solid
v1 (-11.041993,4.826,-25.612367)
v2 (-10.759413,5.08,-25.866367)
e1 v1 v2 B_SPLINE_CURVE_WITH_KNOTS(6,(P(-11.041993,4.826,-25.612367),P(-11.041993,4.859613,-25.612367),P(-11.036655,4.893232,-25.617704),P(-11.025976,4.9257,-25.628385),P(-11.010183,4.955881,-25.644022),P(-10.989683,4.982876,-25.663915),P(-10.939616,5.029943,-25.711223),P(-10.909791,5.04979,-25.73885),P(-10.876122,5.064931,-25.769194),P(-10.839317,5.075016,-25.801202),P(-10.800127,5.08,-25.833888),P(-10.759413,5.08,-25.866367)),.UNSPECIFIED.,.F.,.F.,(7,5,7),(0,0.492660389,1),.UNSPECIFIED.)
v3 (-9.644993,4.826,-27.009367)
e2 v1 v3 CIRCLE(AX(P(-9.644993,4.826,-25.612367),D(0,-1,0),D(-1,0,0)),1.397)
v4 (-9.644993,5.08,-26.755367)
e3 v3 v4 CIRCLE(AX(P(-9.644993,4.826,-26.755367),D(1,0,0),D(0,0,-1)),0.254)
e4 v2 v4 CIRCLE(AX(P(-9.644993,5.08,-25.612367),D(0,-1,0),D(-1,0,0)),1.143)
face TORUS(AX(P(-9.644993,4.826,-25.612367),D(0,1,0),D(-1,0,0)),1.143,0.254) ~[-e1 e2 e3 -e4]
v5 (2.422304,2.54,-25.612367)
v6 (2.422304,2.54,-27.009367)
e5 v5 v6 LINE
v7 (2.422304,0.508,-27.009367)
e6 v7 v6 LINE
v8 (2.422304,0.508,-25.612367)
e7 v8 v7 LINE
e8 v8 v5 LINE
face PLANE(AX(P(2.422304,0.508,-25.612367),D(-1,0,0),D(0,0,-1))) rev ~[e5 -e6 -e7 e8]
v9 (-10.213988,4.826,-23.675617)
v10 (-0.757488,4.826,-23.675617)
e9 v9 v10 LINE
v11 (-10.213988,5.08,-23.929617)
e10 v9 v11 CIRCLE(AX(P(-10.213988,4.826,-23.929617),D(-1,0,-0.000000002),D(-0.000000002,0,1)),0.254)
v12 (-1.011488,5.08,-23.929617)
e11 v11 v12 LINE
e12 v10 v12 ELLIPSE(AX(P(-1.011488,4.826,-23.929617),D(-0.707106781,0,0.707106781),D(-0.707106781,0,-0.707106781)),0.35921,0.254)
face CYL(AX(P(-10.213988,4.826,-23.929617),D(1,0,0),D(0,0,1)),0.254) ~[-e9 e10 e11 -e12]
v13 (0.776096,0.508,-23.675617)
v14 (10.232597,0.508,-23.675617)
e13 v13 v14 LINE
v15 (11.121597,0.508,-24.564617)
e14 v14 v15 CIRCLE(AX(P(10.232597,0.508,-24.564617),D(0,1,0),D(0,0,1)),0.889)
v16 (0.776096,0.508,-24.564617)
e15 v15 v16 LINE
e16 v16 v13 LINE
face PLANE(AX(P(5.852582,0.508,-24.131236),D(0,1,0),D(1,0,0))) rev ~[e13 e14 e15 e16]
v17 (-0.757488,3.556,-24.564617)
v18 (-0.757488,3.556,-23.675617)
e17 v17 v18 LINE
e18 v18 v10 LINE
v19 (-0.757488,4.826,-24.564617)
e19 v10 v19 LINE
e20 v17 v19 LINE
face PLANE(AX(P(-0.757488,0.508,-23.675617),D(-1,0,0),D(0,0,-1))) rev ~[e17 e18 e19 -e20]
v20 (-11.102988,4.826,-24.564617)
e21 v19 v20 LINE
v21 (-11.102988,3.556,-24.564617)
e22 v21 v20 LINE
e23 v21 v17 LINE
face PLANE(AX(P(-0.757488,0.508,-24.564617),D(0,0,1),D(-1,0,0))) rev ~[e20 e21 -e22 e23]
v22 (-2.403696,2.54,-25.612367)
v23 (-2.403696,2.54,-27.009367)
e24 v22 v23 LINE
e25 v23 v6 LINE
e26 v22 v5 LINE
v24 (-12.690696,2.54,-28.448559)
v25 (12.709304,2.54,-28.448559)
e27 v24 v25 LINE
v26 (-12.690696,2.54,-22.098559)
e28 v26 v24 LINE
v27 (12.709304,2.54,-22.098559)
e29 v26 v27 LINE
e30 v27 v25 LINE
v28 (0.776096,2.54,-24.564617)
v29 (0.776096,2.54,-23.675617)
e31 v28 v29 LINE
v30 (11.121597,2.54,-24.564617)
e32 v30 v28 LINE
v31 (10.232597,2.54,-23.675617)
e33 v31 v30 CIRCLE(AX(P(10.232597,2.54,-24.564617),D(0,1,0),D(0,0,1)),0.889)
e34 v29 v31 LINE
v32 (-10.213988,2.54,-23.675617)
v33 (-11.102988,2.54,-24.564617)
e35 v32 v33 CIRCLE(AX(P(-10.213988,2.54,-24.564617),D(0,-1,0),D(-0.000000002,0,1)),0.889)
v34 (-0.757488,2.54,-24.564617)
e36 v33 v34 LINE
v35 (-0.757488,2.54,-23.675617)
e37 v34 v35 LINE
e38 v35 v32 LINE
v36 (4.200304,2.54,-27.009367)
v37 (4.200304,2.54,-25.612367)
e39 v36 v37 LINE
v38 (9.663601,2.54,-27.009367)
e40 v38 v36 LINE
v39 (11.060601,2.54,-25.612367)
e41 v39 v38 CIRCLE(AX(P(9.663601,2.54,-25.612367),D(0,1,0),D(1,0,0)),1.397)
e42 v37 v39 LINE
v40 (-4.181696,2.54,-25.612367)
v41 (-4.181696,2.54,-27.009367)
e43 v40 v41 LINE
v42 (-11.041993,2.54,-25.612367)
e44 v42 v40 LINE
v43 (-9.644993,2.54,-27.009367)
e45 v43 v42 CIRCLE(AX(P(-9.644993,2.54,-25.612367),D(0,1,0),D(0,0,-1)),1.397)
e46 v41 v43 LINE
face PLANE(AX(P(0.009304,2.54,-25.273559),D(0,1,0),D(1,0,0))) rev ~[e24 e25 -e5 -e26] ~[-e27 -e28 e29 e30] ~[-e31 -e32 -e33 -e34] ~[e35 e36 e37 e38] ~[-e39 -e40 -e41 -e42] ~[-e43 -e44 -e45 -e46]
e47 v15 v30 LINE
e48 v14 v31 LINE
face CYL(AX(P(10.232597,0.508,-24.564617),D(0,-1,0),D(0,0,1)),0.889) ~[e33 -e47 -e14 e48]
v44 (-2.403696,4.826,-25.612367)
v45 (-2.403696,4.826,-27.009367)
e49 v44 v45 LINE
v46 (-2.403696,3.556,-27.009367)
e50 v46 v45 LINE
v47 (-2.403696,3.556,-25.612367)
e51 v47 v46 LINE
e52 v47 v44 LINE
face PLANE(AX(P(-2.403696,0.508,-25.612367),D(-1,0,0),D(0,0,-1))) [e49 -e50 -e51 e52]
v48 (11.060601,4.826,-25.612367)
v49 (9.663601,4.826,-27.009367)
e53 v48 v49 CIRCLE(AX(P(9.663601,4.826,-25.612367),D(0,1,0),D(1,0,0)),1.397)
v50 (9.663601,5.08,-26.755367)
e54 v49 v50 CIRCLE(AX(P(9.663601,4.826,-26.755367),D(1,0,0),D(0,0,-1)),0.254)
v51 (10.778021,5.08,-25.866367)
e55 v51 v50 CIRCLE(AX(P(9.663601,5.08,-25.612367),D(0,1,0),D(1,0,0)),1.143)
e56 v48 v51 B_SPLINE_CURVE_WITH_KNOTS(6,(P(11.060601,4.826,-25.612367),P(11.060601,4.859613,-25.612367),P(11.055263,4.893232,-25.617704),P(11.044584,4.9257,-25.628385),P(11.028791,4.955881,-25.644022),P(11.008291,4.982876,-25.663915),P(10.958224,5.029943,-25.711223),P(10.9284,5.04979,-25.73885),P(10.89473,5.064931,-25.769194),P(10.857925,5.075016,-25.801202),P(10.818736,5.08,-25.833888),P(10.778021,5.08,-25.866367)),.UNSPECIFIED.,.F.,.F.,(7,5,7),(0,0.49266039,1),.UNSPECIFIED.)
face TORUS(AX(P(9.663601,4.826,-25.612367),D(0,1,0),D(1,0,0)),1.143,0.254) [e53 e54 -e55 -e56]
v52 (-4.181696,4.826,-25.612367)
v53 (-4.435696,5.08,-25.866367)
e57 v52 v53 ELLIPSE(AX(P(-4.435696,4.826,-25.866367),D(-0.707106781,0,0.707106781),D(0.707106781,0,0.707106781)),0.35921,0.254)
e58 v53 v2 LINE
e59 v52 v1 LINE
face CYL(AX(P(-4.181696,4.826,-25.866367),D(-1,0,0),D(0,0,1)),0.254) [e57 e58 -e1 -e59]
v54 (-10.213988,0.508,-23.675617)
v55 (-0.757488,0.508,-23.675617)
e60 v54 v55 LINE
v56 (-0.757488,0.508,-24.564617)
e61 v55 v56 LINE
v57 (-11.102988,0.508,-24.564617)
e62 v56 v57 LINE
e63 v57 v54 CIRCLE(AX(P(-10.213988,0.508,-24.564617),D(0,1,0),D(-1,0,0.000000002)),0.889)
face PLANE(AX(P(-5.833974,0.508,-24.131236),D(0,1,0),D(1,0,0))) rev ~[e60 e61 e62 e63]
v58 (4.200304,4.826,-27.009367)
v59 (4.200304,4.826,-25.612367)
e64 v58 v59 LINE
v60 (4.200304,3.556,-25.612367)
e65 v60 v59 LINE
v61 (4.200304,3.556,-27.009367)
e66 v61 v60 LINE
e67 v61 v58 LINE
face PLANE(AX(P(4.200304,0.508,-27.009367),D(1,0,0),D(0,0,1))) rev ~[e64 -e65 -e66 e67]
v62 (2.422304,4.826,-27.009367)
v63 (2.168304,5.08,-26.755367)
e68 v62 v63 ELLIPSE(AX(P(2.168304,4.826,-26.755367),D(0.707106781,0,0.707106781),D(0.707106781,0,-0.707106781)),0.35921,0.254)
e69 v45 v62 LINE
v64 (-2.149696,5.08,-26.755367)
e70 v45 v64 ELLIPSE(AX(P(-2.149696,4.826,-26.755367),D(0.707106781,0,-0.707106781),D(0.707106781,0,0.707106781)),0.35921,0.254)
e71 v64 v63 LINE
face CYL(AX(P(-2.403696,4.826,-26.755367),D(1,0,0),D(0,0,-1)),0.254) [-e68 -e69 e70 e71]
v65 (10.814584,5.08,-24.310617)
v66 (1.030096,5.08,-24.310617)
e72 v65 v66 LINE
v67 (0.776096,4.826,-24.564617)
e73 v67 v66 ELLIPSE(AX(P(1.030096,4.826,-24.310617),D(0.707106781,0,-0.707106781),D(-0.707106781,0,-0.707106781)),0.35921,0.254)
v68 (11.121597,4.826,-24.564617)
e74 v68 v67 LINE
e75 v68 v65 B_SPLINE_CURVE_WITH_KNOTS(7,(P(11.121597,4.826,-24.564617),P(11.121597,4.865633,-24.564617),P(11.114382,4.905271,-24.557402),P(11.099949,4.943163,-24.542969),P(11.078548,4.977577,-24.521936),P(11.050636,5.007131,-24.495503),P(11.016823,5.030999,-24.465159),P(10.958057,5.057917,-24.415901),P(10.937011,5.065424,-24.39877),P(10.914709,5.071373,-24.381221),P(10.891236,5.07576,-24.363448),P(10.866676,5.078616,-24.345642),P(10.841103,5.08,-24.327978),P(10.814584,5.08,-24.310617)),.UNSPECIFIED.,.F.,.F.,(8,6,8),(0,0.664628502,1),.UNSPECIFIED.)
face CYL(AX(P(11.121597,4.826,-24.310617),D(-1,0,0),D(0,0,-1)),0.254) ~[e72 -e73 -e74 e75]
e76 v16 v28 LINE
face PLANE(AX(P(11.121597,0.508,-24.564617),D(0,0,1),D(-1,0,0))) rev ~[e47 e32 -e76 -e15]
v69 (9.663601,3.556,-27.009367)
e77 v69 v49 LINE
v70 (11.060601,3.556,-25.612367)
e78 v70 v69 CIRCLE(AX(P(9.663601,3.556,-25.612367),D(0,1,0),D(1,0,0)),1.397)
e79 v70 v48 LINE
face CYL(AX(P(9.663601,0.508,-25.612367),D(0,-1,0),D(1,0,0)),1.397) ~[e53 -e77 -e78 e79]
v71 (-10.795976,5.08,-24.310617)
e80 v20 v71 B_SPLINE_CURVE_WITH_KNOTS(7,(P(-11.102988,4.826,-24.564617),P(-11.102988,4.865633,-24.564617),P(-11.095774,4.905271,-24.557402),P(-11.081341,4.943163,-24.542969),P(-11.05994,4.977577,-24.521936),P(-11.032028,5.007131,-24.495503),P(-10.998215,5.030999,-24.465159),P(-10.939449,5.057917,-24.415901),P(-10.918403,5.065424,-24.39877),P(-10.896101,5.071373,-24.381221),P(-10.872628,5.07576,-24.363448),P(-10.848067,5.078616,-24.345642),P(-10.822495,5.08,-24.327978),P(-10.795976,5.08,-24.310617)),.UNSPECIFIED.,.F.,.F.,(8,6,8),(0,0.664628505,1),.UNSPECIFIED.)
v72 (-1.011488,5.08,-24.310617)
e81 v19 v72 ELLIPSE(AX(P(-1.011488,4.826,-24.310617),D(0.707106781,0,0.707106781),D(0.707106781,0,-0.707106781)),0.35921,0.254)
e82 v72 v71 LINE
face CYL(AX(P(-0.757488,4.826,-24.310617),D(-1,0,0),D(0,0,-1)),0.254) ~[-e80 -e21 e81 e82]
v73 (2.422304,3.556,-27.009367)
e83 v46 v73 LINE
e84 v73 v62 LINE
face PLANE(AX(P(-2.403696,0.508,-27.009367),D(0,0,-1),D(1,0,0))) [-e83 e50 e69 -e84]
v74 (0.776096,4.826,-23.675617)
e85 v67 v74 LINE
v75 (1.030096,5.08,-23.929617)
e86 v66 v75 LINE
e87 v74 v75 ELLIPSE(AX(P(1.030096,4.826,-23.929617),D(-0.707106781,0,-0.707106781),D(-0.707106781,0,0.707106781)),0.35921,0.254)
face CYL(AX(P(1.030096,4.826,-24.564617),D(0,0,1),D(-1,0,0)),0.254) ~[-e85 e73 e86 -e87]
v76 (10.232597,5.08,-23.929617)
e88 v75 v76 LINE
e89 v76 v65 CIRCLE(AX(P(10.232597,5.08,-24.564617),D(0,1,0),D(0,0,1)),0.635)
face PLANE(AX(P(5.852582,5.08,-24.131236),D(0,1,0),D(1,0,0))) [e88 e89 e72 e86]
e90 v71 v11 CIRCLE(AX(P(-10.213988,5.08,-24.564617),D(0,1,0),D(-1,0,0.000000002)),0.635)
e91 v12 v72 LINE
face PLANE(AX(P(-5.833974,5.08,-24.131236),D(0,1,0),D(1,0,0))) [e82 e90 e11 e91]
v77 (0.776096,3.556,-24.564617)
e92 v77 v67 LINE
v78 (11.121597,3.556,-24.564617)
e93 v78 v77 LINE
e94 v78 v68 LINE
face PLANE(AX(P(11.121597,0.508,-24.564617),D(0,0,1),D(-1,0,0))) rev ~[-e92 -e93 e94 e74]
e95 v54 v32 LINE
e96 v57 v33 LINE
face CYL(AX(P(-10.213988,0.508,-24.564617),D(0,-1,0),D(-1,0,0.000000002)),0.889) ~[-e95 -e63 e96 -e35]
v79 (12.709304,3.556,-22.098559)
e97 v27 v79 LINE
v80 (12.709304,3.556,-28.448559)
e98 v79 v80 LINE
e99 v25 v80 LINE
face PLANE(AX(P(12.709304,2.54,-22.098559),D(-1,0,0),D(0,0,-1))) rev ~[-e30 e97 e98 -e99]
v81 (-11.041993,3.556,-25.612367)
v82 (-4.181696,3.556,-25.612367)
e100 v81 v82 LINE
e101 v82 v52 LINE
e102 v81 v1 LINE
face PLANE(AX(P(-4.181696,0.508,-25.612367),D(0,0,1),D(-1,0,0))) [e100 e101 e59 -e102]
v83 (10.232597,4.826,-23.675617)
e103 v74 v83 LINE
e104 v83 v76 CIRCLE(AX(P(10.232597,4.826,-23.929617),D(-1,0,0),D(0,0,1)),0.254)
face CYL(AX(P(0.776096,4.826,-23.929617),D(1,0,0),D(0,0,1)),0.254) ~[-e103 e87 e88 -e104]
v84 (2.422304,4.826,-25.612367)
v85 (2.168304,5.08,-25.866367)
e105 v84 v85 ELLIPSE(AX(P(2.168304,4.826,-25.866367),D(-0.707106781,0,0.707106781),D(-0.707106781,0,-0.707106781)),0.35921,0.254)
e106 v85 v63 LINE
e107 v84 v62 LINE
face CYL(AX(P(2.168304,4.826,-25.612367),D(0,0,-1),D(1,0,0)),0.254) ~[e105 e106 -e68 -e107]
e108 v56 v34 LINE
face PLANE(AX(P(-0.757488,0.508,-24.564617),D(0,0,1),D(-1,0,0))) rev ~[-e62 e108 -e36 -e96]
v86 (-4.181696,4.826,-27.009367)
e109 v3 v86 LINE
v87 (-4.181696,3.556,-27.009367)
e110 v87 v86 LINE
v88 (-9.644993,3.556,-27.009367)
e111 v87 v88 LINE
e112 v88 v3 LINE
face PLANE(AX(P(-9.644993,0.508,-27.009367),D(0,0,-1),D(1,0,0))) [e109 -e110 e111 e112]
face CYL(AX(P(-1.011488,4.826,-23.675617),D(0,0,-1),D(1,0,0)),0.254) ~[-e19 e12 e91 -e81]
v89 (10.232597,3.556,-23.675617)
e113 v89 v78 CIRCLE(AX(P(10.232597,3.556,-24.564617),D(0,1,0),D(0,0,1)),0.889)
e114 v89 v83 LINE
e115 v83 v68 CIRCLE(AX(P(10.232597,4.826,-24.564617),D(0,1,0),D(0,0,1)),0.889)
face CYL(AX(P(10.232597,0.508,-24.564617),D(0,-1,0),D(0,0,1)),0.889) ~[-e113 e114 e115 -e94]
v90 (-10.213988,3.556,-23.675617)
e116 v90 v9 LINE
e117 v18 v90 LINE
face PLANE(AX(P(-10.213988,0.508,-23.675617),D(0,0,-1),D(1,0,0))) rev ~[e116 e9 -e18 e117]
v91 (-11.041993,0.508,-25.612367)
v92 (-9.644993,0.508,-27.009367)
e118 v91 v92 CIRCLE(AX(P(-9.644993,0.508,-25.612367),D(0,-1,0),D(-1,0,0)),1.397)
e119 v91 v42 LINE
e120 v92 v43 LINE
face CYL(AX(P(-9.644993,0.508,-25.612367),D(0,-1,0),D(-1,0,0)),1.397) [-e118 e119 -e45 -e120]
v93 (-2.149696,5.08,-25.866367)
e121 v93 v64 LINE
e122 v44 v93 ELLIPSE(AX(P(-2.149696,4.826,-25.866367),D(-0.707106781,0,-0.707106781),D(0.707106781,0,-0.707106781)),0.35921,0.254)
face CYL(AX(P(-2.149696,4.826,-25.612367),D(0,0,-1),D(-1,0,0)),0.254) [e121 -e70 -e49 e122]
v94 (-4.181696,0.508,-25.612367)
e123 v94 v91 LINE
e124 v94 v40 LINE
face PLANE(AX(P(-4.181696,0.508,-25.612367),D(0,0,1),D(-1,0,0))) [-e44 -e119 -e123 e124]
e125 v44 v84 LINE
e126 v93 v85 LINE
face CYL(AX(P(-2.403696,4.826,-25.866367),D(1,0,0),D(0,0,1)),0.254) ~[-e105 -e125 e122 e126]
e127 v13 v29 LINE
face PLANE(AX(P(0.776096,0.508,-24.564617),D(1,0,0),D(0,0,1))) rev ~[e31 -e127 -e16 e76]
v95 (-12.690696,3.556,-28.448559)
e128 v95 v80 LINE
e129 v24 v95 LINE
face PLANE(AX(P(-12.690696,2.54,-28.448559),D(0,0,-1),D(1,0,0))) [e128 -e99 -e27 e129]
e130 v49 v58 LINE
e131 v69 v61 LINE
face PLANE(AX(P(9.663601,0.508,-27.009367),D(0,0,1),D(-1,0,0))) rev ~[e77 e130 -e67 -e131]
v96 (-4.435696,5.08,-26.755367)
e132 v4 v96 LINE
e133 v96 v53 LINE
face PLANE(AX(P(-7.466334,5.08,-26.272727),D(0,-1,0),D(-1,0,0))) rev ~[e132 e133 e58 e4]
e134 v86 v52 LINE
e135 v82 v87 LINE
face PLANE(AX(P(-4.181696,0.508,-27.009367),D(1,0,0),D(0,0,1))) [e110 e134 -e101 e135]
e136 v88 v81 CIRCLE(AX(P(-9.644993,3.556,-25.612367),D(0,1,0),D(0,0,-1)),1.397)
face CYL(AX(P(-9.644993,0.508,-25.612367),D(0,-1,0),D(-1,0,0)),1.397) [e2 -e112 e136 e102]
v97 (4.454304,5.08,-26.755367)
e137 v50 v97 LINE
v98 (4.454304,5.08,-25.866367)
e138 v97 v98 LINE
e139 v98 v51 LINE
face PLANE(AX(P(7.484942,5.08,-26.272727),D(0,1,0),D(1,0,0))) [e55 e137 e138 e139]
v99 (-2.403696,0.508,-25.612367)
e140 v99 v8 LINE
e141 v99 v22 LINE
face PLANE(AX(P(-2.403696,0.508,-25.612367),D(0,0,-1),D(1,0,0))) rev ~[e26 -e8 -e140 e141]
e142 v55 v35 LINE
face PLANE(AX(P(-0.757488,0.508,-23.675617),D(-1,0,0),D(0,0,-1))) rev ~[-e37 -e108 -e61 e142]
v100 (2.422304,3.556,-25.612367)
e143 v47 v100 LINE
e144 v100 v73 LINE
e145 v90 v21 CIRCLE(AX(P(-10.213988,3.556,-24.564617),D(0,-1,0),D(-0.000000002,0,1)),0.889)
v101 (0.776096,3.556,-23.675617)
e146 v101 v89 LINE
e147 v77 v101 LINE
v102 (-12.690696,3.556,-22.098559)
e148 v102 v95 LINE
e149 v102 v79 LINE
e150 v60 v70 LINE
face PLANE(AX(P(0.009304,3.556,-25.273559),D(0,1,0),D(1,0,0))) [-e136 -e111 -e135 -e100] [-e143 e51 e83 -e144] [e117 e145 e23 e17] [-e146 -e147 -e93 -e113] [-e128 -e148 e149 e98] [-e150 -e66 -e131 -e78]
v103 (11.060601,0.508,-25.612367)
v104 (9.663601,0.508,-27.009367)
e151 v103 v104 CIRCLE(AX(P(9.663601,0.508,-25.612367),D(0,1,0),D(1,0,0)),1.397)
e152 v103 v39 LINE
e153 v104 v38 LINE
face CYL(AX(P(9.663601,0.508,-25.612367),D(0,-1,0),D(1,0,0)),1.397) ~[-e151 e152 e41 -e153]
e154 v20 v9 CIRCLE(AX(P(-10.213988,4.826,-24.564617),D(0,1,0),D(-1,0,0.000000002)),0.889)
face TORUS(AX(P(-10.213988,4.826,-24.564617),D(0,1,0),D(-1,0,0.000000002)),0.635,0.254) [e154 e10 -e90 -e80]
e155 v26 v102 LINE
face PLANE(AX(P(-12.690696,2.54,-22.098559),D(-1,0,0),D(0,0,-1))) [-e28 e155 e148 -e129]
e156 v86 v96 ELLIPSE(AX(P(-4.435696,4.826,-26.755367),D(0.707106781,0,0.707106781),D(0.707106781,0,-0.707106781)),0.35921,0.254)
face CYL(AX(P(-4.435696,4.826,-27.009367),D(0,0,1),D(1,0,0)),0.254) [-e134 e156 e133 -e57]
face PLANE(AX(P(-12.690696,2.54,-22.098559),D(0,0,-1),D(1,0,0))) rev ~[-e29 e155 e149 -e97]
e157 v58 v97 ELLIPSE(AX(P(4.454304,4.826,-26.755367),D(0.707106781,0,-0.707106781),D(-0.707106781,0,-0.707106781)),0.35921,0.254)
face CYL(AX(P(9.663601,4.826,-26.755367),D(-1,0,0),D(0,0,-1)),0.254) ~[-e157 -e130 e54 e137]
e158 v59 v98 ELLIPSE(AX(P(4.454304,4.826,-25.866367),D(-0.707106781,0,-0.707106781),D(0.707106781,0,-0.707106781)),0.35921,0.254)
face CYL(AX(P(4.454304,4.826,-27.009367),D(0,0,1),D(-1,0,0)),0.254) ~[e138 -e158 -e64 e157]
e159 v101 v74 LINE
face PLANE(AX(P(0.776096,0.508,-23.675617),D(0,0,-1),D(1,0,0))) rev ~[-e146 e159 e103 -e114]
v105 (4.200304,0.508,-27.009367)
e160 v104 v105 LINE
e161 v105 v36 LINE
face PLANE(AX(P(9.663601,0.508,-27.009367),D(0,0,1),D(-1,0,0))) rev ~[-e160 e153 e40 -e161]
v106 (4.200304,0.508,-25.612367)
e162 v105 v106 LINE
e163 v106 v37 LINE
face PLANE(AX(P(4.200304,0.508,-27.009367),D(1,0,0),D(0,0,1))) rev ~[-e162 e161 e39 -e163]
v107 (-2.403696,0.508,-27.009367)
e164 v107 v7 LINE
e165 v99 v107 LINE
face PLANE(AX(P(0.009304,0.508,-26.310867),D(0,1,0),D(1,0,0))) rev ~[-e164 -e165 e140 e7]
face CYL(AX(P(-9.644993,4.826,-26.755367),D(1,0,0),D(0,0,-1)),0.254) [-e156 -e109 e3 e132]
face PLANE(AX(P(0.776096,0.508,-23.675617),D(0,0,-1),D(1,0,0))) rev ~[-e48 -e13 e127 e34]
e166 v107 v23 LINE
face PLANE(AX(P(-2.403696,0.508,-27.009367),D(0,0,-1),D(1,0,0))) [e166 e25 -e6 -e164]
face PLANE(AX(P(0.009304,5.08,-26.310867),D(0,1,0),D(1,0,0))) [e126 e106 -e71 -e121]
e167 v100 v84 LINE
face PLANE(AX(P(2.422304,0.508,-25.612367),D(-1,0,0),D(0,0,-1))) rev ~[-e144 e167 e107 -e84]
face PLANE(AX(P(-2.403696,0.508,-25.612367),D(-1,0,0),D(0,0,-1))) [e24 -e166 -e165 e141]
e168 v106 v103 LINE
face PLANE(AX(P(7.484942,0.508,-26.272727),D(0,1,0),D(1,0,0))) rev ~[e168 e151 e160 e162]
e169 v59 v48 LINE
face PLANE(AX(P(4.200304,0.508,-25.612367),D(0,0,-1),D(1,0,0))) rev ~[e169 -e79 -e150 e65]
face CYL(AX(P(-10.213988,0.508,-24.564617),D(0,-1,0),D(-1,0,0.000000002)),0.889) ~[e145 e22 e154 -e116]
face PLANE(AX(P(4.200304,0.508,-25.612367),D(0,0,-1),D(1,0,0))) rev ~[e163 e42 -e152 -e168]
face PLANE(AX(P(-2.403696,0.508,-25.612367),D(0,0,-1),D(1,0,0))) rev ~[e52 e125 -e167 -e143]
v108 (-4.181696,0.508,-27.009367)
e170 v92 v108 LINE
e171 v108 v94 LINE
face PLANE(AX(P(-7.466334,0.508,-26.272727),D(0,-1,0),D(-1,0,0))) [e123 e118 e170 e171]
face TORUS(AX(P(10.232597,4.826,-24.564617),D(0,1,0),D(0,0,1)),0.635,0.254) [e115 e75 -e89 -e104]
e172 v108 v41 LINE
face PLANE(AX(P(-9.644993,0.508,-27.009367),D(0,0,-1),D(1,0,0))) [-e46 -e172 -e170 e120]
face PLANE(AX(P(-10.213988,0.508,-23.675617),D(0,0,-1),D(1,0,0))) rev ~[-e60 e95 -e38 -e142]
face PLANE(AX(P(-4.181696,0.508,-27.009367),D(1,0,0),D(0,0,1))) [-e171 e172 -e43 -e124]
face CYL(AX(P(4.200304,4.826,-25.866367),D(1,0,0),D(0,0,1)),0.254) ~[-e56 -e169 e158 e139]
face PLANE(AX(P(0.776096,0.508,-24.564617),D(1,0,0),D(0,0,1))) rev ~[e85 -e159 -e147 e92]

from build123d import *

# Parameters (mm, degrees)
BOSS_EXTRUDE1_DEPTH        = 2.032
BOSS_EXTRUDE1_DEPTH_BACK   = 2.54
BOSS_EXTRUDE1_2_DEPTH      = 2.032
BOSS_EXTRUDE1_2_DEPTH_BACK = 2.54
BOSS_EXTRUDE1_3_DEPTH      = 2.032
BOSS_EXTRUDE1_3_DEPTH_BACK = 2.54
SKETCH1_W                  = 4.826
SKETCH1_H                  = 1.397
BOSS_EXTRUDE1_4_DEPTH      = 2.032
BOSS_EXTRUDE1_4_DEPTH_BACK = 2.54
BOSS_EXTRUDE1_5_DEPTH      = 2.032
BOSS_EXTRUDE1_5_DEPTH_BACK = 2.54
BOSS_EXTRUDE2_DEPTH        = 0.508
BOSS_EXTRUDE2_DEPTH_BACK   = 0.508
SKETCH1_3_W                = 25.4
SKETCH1_3_H                = 6.35
SKETCH1_3_W_2              = 4.826
SKETCH1_3_H_2              = 1.397
FILLET1_R                  = 0.254


with BuildPart() as part:
    # Sketch1 → Boss-Extrude1 (new, two sides: drawn at the far end of the back side and taken through both)
    with BuildSketch(Plane(origin=(0, 3.048, 0), x_dir=(1, 0, 0), z_dir=(0, 1, 0)).offset(-BOSS_EXTRUDE1_DEPTH_BACK)):
        with BuildLine():
            Line((-4.181695904, 27.009366894), (-9.644992793, 27.009366894))
            ThreePointArc((-9.644992793, 27.009366894), (-10.632820966, 26.600195068), (-11.041992793, 25.612366894))
            Line((-11.041992793, 25.612366894), (-4.181695904, 25.612366894))
            Line((-4.181695904, 25.612366894), (-4.181695904, 27.009366894))
        make_face()
    extrude(amount=BOSS_EXTRUDE1_DEPTH + BOSS_EXTRUDE1_DEPTH_BACK)



with BuildPart() as body_2:
    # Sketch1 → Boss-Extrude1 2 (new, two sides: drawn at the far end of the back side and taken through both)
    with BuildSketch(Plane(origin=(0, 3.048, 0), x_dir=(1, 0, 0), z_dir=(0, 1, 0)).offset(-BOSS_EXTRUDE1_2_DEPTH_BACK)):
        with BuildLine():
            Line((0.776095842, 24.564616894), (0.776095842, 23.675616894))
            Line((0.776095842, 23.675616894), (10.23259664, 23.675616894))
            ThreePointArc((10.23259664, 23.675616894), (10.861214569, 23.935998966), (11.12159664, 24.564616894))
            Line((11.12159664, 24.564616894), (0.776095842, 24.564616894))
        make_face()
    extrude(amount=BOSS_EXTRUDE1_2_DEPTH + BOSS_EXTRUDE1_2_DEPTH_BACK)


with BuildPart() as body_3:
    # Sketch1 → Boss-Extrude1 3 (new, two sides: drawn at the far end of the back side and taken through both)
    with BuildSketch(Plane(origin=(0, 3.048, 0), x_dir=(1, 0, 0), z_dir=(0, 1, 0)).offset(-BOSS_EXTRUDE1_3_DEPTH_BACK)):
        with Locations((0.009304096, 26.310866894)):
            Rectangle(SKETCH1_W, SKETCH1_H)
    extrude(amount=BOSS_EXTRUDE1_3_DEPTH + BOSS_EXTRUDE1_3_DEPTH_BACK)


with BuildPart() as body_4:
    # Sketch1 → Boss-Extrude1 4 (new, two sides: drawn at the far end of the back side and taken through both)
    with BuildSketch(Plane(origin=(0, 3.048, 0), x_dir=(1, 0, 0), z_dir=(0, 1, 0)).offset(-BOSS_EXTRUDE1_4_DEPTH_BACK)):
        with BuildLine():
            Line((9.663600985, 27.009366894), (4.200304096, 27.009366894))
            Line((4.200304096, 27.009366894), (4.200304096, 25.612366894))
            Line((4.200304096, 25.612366894), (11.060600985, 25.612366894))
            ThreePointArc((11.060600985, 25.612366894), (10.651429158, 26.600195068), (9.663600985, 27.009366894))
        make_face()
    extrude(amount=BOSS_EXTRUDE1_4_DEPTH + BOSS_EXTRUDE1_4_DEPTH_BACK)


with BuildPart() as body_5:
    # Sketch1 → Boss-Extrude1 5 (new, two sides: drawn at the far end of the back side and taken through both)
    with BuildSketch(Plane(origin=(0, 3.048, 0), x_dir=(1, 0, 0), z_dir=(0, 1, 0)).offset(-BOSS_EXTRUDE1_5_DEPTH_BACK)):
        with BuildLine():
            Line((-0.75748765, 23.675616894), (-0.75748765, 24.564616894))
            Line((-0.75748765, 24.564616894), (-11.102988449, 24.564616894))
            ThreePointArc((-11.102988449, 24.564616894), (-10.842606377, 23.935998966), (-10.213988449, 23.675616894))
            Line((-10.213988449, 23.675616894), (-0.75748765, 23.675616894))
        make_face()
    extrude(amount=BOSS_EXTRUDE1_5_DEPTH + BOSS_EXTRUDE1_5_DEPTH_BACK)


with BuildPart() as part_1:
    add(part.part)

    add(body_2.part)  # Boss-Extrude2 merges body 2

    add(body_3.part)  # Boss-Extrude2 merges body 3

    add(body_4.part)  # Boss-Extrude2 merges body 4

    add(body_5.part)  # Boss-Extrude2 merges body 5
    # Sketch1<3> → Boss-Extrude2 (add, two sides: drawn at the far end of the back side and taken through both)
    with BuildSketch(Plane(origin=(0, 3.048, 0), x_dir=(1, 0, 0), z_dir=(0, 1, 0)).offset(-BOSS_EXTRUDE2_DEPTH_BACK)):
        with Locations((0.009304096, 25.273558827)):
            Rectangle(SKETCH1_3_W, SKETCH1_3_H)
        with BuildLine():
            Line((-11.102988449, 24.564616894), (-0.75748765, 24.564616894))
            Line((-0.75748765, 24.564616894), (-0.75748765, 23.675616894))
            Line((-0.75748765, 23.675616894), (-10.213988449, 23.675616894))
            ThreePointArc((-10.213988449, 23.675616894), (-10.842606377, 23.935998966), (-11.102988449, 24.564616894))
        make_face(mode=Mode.SUBTRACT)
        with BuildLine():
            Line((10.23259664, 23.675616894), (0.776095842, 23.675616894))
            Line((0.776095842, 23.675616894), (0.776095842, 24.564616894))
            Line((0.776095842, 24.564616894), (11.12159664, 24.564616894))
            ThreePointArc((11.12159664, 24.564616894), (10.861214569, 23.935998966), (10.23259664, 23.675616894))
        make_face(mode=Mode.SUBTRACT)
        with BuildLine():
            ThreePointArc((-11.041992793, 25.612366894), (-10.632820966, 26.600195068), (-9.644992793, 27.009366894))
            Line((-9.644992793, 27.009366894), (-4.181695904, 27.009366894))
            Line((-4.181695904, 27.009366894), (-4.181695904, 25.612366894))
            Line((-4.181695904, 25.612366894), (-11.041992793, 25.612366894))
        make_face(mode=Mode.SUBTRACT)
        with Locations((0.009304096, 26.310866894)):
            Rectangle(SKETCH1_3_W_2, SKETCH1_3_H_2, mode=Mode.SUBTRACT)
        with BuildLine():
            Line((4.200304096, 25.612366894), (4.200304096, 27.009366894))
            Line((4.200304096, 27.009366894), (9.663600985, 27.009366894))
            ThreePointArc((9.663600985, 27.009366894), (10.651429158, 26.600195068), (11.060600985, 25.612366894))
            Line((11.060600985, 25.612366894), (4.200304096, 25.612366894))
        make_face(mode=Mode.SUBTRACT)
    extrude(amount=BOSS_EXTRUDE2_DEPTH + BOSS_EXTRUDE2_DEPTH_BACK)

    # Fillet1
    fillet1_edges = [part_1.edges().sort_by_distance(p)[0] for p in [
        (0.009304096, 5.08, -25.612366894),
        (-2.403695904, 5.08, -26.310866894),
        (0.009304096, 5.08, -27.009366894),
        (2.422304096, 5.08, -26.310866894),
        (-7.611844348, 5.08, -25.612366894),
        (-10.632820966, 5.08, -26.600195068),
        (-6.913344348, 5.08, -27.009366894),
        (-4.181695904, 5.08, -26.310866894),
        (-5.485738049, 5.08, -23.675616894),
        (-10.842606377, 5.08, -23.935998966),
        (-5.930238049, 5.08, -24.564616894),
        (-0.75748765, 5.08, -24.120116894),
        (5.948846241, 5.08, -24.564616894),
        (10.861214569, 5.08, -23.935998966),
        (5.504346241, 5.08, -23.675616894),
        (0.776095842, 5.08, -24.120116894),
        (4.200304096, 5.08, -26.310866894),
        (6.93195254, 5.08, -27.009366894),
        (10.651429158, 5.08, -26.600195068),
        (7.63045254, 5.08, -25.612366894),
    ]]
    fillet(fillet1_edges, radius=FILLET1_R)


solid = part_1.part
